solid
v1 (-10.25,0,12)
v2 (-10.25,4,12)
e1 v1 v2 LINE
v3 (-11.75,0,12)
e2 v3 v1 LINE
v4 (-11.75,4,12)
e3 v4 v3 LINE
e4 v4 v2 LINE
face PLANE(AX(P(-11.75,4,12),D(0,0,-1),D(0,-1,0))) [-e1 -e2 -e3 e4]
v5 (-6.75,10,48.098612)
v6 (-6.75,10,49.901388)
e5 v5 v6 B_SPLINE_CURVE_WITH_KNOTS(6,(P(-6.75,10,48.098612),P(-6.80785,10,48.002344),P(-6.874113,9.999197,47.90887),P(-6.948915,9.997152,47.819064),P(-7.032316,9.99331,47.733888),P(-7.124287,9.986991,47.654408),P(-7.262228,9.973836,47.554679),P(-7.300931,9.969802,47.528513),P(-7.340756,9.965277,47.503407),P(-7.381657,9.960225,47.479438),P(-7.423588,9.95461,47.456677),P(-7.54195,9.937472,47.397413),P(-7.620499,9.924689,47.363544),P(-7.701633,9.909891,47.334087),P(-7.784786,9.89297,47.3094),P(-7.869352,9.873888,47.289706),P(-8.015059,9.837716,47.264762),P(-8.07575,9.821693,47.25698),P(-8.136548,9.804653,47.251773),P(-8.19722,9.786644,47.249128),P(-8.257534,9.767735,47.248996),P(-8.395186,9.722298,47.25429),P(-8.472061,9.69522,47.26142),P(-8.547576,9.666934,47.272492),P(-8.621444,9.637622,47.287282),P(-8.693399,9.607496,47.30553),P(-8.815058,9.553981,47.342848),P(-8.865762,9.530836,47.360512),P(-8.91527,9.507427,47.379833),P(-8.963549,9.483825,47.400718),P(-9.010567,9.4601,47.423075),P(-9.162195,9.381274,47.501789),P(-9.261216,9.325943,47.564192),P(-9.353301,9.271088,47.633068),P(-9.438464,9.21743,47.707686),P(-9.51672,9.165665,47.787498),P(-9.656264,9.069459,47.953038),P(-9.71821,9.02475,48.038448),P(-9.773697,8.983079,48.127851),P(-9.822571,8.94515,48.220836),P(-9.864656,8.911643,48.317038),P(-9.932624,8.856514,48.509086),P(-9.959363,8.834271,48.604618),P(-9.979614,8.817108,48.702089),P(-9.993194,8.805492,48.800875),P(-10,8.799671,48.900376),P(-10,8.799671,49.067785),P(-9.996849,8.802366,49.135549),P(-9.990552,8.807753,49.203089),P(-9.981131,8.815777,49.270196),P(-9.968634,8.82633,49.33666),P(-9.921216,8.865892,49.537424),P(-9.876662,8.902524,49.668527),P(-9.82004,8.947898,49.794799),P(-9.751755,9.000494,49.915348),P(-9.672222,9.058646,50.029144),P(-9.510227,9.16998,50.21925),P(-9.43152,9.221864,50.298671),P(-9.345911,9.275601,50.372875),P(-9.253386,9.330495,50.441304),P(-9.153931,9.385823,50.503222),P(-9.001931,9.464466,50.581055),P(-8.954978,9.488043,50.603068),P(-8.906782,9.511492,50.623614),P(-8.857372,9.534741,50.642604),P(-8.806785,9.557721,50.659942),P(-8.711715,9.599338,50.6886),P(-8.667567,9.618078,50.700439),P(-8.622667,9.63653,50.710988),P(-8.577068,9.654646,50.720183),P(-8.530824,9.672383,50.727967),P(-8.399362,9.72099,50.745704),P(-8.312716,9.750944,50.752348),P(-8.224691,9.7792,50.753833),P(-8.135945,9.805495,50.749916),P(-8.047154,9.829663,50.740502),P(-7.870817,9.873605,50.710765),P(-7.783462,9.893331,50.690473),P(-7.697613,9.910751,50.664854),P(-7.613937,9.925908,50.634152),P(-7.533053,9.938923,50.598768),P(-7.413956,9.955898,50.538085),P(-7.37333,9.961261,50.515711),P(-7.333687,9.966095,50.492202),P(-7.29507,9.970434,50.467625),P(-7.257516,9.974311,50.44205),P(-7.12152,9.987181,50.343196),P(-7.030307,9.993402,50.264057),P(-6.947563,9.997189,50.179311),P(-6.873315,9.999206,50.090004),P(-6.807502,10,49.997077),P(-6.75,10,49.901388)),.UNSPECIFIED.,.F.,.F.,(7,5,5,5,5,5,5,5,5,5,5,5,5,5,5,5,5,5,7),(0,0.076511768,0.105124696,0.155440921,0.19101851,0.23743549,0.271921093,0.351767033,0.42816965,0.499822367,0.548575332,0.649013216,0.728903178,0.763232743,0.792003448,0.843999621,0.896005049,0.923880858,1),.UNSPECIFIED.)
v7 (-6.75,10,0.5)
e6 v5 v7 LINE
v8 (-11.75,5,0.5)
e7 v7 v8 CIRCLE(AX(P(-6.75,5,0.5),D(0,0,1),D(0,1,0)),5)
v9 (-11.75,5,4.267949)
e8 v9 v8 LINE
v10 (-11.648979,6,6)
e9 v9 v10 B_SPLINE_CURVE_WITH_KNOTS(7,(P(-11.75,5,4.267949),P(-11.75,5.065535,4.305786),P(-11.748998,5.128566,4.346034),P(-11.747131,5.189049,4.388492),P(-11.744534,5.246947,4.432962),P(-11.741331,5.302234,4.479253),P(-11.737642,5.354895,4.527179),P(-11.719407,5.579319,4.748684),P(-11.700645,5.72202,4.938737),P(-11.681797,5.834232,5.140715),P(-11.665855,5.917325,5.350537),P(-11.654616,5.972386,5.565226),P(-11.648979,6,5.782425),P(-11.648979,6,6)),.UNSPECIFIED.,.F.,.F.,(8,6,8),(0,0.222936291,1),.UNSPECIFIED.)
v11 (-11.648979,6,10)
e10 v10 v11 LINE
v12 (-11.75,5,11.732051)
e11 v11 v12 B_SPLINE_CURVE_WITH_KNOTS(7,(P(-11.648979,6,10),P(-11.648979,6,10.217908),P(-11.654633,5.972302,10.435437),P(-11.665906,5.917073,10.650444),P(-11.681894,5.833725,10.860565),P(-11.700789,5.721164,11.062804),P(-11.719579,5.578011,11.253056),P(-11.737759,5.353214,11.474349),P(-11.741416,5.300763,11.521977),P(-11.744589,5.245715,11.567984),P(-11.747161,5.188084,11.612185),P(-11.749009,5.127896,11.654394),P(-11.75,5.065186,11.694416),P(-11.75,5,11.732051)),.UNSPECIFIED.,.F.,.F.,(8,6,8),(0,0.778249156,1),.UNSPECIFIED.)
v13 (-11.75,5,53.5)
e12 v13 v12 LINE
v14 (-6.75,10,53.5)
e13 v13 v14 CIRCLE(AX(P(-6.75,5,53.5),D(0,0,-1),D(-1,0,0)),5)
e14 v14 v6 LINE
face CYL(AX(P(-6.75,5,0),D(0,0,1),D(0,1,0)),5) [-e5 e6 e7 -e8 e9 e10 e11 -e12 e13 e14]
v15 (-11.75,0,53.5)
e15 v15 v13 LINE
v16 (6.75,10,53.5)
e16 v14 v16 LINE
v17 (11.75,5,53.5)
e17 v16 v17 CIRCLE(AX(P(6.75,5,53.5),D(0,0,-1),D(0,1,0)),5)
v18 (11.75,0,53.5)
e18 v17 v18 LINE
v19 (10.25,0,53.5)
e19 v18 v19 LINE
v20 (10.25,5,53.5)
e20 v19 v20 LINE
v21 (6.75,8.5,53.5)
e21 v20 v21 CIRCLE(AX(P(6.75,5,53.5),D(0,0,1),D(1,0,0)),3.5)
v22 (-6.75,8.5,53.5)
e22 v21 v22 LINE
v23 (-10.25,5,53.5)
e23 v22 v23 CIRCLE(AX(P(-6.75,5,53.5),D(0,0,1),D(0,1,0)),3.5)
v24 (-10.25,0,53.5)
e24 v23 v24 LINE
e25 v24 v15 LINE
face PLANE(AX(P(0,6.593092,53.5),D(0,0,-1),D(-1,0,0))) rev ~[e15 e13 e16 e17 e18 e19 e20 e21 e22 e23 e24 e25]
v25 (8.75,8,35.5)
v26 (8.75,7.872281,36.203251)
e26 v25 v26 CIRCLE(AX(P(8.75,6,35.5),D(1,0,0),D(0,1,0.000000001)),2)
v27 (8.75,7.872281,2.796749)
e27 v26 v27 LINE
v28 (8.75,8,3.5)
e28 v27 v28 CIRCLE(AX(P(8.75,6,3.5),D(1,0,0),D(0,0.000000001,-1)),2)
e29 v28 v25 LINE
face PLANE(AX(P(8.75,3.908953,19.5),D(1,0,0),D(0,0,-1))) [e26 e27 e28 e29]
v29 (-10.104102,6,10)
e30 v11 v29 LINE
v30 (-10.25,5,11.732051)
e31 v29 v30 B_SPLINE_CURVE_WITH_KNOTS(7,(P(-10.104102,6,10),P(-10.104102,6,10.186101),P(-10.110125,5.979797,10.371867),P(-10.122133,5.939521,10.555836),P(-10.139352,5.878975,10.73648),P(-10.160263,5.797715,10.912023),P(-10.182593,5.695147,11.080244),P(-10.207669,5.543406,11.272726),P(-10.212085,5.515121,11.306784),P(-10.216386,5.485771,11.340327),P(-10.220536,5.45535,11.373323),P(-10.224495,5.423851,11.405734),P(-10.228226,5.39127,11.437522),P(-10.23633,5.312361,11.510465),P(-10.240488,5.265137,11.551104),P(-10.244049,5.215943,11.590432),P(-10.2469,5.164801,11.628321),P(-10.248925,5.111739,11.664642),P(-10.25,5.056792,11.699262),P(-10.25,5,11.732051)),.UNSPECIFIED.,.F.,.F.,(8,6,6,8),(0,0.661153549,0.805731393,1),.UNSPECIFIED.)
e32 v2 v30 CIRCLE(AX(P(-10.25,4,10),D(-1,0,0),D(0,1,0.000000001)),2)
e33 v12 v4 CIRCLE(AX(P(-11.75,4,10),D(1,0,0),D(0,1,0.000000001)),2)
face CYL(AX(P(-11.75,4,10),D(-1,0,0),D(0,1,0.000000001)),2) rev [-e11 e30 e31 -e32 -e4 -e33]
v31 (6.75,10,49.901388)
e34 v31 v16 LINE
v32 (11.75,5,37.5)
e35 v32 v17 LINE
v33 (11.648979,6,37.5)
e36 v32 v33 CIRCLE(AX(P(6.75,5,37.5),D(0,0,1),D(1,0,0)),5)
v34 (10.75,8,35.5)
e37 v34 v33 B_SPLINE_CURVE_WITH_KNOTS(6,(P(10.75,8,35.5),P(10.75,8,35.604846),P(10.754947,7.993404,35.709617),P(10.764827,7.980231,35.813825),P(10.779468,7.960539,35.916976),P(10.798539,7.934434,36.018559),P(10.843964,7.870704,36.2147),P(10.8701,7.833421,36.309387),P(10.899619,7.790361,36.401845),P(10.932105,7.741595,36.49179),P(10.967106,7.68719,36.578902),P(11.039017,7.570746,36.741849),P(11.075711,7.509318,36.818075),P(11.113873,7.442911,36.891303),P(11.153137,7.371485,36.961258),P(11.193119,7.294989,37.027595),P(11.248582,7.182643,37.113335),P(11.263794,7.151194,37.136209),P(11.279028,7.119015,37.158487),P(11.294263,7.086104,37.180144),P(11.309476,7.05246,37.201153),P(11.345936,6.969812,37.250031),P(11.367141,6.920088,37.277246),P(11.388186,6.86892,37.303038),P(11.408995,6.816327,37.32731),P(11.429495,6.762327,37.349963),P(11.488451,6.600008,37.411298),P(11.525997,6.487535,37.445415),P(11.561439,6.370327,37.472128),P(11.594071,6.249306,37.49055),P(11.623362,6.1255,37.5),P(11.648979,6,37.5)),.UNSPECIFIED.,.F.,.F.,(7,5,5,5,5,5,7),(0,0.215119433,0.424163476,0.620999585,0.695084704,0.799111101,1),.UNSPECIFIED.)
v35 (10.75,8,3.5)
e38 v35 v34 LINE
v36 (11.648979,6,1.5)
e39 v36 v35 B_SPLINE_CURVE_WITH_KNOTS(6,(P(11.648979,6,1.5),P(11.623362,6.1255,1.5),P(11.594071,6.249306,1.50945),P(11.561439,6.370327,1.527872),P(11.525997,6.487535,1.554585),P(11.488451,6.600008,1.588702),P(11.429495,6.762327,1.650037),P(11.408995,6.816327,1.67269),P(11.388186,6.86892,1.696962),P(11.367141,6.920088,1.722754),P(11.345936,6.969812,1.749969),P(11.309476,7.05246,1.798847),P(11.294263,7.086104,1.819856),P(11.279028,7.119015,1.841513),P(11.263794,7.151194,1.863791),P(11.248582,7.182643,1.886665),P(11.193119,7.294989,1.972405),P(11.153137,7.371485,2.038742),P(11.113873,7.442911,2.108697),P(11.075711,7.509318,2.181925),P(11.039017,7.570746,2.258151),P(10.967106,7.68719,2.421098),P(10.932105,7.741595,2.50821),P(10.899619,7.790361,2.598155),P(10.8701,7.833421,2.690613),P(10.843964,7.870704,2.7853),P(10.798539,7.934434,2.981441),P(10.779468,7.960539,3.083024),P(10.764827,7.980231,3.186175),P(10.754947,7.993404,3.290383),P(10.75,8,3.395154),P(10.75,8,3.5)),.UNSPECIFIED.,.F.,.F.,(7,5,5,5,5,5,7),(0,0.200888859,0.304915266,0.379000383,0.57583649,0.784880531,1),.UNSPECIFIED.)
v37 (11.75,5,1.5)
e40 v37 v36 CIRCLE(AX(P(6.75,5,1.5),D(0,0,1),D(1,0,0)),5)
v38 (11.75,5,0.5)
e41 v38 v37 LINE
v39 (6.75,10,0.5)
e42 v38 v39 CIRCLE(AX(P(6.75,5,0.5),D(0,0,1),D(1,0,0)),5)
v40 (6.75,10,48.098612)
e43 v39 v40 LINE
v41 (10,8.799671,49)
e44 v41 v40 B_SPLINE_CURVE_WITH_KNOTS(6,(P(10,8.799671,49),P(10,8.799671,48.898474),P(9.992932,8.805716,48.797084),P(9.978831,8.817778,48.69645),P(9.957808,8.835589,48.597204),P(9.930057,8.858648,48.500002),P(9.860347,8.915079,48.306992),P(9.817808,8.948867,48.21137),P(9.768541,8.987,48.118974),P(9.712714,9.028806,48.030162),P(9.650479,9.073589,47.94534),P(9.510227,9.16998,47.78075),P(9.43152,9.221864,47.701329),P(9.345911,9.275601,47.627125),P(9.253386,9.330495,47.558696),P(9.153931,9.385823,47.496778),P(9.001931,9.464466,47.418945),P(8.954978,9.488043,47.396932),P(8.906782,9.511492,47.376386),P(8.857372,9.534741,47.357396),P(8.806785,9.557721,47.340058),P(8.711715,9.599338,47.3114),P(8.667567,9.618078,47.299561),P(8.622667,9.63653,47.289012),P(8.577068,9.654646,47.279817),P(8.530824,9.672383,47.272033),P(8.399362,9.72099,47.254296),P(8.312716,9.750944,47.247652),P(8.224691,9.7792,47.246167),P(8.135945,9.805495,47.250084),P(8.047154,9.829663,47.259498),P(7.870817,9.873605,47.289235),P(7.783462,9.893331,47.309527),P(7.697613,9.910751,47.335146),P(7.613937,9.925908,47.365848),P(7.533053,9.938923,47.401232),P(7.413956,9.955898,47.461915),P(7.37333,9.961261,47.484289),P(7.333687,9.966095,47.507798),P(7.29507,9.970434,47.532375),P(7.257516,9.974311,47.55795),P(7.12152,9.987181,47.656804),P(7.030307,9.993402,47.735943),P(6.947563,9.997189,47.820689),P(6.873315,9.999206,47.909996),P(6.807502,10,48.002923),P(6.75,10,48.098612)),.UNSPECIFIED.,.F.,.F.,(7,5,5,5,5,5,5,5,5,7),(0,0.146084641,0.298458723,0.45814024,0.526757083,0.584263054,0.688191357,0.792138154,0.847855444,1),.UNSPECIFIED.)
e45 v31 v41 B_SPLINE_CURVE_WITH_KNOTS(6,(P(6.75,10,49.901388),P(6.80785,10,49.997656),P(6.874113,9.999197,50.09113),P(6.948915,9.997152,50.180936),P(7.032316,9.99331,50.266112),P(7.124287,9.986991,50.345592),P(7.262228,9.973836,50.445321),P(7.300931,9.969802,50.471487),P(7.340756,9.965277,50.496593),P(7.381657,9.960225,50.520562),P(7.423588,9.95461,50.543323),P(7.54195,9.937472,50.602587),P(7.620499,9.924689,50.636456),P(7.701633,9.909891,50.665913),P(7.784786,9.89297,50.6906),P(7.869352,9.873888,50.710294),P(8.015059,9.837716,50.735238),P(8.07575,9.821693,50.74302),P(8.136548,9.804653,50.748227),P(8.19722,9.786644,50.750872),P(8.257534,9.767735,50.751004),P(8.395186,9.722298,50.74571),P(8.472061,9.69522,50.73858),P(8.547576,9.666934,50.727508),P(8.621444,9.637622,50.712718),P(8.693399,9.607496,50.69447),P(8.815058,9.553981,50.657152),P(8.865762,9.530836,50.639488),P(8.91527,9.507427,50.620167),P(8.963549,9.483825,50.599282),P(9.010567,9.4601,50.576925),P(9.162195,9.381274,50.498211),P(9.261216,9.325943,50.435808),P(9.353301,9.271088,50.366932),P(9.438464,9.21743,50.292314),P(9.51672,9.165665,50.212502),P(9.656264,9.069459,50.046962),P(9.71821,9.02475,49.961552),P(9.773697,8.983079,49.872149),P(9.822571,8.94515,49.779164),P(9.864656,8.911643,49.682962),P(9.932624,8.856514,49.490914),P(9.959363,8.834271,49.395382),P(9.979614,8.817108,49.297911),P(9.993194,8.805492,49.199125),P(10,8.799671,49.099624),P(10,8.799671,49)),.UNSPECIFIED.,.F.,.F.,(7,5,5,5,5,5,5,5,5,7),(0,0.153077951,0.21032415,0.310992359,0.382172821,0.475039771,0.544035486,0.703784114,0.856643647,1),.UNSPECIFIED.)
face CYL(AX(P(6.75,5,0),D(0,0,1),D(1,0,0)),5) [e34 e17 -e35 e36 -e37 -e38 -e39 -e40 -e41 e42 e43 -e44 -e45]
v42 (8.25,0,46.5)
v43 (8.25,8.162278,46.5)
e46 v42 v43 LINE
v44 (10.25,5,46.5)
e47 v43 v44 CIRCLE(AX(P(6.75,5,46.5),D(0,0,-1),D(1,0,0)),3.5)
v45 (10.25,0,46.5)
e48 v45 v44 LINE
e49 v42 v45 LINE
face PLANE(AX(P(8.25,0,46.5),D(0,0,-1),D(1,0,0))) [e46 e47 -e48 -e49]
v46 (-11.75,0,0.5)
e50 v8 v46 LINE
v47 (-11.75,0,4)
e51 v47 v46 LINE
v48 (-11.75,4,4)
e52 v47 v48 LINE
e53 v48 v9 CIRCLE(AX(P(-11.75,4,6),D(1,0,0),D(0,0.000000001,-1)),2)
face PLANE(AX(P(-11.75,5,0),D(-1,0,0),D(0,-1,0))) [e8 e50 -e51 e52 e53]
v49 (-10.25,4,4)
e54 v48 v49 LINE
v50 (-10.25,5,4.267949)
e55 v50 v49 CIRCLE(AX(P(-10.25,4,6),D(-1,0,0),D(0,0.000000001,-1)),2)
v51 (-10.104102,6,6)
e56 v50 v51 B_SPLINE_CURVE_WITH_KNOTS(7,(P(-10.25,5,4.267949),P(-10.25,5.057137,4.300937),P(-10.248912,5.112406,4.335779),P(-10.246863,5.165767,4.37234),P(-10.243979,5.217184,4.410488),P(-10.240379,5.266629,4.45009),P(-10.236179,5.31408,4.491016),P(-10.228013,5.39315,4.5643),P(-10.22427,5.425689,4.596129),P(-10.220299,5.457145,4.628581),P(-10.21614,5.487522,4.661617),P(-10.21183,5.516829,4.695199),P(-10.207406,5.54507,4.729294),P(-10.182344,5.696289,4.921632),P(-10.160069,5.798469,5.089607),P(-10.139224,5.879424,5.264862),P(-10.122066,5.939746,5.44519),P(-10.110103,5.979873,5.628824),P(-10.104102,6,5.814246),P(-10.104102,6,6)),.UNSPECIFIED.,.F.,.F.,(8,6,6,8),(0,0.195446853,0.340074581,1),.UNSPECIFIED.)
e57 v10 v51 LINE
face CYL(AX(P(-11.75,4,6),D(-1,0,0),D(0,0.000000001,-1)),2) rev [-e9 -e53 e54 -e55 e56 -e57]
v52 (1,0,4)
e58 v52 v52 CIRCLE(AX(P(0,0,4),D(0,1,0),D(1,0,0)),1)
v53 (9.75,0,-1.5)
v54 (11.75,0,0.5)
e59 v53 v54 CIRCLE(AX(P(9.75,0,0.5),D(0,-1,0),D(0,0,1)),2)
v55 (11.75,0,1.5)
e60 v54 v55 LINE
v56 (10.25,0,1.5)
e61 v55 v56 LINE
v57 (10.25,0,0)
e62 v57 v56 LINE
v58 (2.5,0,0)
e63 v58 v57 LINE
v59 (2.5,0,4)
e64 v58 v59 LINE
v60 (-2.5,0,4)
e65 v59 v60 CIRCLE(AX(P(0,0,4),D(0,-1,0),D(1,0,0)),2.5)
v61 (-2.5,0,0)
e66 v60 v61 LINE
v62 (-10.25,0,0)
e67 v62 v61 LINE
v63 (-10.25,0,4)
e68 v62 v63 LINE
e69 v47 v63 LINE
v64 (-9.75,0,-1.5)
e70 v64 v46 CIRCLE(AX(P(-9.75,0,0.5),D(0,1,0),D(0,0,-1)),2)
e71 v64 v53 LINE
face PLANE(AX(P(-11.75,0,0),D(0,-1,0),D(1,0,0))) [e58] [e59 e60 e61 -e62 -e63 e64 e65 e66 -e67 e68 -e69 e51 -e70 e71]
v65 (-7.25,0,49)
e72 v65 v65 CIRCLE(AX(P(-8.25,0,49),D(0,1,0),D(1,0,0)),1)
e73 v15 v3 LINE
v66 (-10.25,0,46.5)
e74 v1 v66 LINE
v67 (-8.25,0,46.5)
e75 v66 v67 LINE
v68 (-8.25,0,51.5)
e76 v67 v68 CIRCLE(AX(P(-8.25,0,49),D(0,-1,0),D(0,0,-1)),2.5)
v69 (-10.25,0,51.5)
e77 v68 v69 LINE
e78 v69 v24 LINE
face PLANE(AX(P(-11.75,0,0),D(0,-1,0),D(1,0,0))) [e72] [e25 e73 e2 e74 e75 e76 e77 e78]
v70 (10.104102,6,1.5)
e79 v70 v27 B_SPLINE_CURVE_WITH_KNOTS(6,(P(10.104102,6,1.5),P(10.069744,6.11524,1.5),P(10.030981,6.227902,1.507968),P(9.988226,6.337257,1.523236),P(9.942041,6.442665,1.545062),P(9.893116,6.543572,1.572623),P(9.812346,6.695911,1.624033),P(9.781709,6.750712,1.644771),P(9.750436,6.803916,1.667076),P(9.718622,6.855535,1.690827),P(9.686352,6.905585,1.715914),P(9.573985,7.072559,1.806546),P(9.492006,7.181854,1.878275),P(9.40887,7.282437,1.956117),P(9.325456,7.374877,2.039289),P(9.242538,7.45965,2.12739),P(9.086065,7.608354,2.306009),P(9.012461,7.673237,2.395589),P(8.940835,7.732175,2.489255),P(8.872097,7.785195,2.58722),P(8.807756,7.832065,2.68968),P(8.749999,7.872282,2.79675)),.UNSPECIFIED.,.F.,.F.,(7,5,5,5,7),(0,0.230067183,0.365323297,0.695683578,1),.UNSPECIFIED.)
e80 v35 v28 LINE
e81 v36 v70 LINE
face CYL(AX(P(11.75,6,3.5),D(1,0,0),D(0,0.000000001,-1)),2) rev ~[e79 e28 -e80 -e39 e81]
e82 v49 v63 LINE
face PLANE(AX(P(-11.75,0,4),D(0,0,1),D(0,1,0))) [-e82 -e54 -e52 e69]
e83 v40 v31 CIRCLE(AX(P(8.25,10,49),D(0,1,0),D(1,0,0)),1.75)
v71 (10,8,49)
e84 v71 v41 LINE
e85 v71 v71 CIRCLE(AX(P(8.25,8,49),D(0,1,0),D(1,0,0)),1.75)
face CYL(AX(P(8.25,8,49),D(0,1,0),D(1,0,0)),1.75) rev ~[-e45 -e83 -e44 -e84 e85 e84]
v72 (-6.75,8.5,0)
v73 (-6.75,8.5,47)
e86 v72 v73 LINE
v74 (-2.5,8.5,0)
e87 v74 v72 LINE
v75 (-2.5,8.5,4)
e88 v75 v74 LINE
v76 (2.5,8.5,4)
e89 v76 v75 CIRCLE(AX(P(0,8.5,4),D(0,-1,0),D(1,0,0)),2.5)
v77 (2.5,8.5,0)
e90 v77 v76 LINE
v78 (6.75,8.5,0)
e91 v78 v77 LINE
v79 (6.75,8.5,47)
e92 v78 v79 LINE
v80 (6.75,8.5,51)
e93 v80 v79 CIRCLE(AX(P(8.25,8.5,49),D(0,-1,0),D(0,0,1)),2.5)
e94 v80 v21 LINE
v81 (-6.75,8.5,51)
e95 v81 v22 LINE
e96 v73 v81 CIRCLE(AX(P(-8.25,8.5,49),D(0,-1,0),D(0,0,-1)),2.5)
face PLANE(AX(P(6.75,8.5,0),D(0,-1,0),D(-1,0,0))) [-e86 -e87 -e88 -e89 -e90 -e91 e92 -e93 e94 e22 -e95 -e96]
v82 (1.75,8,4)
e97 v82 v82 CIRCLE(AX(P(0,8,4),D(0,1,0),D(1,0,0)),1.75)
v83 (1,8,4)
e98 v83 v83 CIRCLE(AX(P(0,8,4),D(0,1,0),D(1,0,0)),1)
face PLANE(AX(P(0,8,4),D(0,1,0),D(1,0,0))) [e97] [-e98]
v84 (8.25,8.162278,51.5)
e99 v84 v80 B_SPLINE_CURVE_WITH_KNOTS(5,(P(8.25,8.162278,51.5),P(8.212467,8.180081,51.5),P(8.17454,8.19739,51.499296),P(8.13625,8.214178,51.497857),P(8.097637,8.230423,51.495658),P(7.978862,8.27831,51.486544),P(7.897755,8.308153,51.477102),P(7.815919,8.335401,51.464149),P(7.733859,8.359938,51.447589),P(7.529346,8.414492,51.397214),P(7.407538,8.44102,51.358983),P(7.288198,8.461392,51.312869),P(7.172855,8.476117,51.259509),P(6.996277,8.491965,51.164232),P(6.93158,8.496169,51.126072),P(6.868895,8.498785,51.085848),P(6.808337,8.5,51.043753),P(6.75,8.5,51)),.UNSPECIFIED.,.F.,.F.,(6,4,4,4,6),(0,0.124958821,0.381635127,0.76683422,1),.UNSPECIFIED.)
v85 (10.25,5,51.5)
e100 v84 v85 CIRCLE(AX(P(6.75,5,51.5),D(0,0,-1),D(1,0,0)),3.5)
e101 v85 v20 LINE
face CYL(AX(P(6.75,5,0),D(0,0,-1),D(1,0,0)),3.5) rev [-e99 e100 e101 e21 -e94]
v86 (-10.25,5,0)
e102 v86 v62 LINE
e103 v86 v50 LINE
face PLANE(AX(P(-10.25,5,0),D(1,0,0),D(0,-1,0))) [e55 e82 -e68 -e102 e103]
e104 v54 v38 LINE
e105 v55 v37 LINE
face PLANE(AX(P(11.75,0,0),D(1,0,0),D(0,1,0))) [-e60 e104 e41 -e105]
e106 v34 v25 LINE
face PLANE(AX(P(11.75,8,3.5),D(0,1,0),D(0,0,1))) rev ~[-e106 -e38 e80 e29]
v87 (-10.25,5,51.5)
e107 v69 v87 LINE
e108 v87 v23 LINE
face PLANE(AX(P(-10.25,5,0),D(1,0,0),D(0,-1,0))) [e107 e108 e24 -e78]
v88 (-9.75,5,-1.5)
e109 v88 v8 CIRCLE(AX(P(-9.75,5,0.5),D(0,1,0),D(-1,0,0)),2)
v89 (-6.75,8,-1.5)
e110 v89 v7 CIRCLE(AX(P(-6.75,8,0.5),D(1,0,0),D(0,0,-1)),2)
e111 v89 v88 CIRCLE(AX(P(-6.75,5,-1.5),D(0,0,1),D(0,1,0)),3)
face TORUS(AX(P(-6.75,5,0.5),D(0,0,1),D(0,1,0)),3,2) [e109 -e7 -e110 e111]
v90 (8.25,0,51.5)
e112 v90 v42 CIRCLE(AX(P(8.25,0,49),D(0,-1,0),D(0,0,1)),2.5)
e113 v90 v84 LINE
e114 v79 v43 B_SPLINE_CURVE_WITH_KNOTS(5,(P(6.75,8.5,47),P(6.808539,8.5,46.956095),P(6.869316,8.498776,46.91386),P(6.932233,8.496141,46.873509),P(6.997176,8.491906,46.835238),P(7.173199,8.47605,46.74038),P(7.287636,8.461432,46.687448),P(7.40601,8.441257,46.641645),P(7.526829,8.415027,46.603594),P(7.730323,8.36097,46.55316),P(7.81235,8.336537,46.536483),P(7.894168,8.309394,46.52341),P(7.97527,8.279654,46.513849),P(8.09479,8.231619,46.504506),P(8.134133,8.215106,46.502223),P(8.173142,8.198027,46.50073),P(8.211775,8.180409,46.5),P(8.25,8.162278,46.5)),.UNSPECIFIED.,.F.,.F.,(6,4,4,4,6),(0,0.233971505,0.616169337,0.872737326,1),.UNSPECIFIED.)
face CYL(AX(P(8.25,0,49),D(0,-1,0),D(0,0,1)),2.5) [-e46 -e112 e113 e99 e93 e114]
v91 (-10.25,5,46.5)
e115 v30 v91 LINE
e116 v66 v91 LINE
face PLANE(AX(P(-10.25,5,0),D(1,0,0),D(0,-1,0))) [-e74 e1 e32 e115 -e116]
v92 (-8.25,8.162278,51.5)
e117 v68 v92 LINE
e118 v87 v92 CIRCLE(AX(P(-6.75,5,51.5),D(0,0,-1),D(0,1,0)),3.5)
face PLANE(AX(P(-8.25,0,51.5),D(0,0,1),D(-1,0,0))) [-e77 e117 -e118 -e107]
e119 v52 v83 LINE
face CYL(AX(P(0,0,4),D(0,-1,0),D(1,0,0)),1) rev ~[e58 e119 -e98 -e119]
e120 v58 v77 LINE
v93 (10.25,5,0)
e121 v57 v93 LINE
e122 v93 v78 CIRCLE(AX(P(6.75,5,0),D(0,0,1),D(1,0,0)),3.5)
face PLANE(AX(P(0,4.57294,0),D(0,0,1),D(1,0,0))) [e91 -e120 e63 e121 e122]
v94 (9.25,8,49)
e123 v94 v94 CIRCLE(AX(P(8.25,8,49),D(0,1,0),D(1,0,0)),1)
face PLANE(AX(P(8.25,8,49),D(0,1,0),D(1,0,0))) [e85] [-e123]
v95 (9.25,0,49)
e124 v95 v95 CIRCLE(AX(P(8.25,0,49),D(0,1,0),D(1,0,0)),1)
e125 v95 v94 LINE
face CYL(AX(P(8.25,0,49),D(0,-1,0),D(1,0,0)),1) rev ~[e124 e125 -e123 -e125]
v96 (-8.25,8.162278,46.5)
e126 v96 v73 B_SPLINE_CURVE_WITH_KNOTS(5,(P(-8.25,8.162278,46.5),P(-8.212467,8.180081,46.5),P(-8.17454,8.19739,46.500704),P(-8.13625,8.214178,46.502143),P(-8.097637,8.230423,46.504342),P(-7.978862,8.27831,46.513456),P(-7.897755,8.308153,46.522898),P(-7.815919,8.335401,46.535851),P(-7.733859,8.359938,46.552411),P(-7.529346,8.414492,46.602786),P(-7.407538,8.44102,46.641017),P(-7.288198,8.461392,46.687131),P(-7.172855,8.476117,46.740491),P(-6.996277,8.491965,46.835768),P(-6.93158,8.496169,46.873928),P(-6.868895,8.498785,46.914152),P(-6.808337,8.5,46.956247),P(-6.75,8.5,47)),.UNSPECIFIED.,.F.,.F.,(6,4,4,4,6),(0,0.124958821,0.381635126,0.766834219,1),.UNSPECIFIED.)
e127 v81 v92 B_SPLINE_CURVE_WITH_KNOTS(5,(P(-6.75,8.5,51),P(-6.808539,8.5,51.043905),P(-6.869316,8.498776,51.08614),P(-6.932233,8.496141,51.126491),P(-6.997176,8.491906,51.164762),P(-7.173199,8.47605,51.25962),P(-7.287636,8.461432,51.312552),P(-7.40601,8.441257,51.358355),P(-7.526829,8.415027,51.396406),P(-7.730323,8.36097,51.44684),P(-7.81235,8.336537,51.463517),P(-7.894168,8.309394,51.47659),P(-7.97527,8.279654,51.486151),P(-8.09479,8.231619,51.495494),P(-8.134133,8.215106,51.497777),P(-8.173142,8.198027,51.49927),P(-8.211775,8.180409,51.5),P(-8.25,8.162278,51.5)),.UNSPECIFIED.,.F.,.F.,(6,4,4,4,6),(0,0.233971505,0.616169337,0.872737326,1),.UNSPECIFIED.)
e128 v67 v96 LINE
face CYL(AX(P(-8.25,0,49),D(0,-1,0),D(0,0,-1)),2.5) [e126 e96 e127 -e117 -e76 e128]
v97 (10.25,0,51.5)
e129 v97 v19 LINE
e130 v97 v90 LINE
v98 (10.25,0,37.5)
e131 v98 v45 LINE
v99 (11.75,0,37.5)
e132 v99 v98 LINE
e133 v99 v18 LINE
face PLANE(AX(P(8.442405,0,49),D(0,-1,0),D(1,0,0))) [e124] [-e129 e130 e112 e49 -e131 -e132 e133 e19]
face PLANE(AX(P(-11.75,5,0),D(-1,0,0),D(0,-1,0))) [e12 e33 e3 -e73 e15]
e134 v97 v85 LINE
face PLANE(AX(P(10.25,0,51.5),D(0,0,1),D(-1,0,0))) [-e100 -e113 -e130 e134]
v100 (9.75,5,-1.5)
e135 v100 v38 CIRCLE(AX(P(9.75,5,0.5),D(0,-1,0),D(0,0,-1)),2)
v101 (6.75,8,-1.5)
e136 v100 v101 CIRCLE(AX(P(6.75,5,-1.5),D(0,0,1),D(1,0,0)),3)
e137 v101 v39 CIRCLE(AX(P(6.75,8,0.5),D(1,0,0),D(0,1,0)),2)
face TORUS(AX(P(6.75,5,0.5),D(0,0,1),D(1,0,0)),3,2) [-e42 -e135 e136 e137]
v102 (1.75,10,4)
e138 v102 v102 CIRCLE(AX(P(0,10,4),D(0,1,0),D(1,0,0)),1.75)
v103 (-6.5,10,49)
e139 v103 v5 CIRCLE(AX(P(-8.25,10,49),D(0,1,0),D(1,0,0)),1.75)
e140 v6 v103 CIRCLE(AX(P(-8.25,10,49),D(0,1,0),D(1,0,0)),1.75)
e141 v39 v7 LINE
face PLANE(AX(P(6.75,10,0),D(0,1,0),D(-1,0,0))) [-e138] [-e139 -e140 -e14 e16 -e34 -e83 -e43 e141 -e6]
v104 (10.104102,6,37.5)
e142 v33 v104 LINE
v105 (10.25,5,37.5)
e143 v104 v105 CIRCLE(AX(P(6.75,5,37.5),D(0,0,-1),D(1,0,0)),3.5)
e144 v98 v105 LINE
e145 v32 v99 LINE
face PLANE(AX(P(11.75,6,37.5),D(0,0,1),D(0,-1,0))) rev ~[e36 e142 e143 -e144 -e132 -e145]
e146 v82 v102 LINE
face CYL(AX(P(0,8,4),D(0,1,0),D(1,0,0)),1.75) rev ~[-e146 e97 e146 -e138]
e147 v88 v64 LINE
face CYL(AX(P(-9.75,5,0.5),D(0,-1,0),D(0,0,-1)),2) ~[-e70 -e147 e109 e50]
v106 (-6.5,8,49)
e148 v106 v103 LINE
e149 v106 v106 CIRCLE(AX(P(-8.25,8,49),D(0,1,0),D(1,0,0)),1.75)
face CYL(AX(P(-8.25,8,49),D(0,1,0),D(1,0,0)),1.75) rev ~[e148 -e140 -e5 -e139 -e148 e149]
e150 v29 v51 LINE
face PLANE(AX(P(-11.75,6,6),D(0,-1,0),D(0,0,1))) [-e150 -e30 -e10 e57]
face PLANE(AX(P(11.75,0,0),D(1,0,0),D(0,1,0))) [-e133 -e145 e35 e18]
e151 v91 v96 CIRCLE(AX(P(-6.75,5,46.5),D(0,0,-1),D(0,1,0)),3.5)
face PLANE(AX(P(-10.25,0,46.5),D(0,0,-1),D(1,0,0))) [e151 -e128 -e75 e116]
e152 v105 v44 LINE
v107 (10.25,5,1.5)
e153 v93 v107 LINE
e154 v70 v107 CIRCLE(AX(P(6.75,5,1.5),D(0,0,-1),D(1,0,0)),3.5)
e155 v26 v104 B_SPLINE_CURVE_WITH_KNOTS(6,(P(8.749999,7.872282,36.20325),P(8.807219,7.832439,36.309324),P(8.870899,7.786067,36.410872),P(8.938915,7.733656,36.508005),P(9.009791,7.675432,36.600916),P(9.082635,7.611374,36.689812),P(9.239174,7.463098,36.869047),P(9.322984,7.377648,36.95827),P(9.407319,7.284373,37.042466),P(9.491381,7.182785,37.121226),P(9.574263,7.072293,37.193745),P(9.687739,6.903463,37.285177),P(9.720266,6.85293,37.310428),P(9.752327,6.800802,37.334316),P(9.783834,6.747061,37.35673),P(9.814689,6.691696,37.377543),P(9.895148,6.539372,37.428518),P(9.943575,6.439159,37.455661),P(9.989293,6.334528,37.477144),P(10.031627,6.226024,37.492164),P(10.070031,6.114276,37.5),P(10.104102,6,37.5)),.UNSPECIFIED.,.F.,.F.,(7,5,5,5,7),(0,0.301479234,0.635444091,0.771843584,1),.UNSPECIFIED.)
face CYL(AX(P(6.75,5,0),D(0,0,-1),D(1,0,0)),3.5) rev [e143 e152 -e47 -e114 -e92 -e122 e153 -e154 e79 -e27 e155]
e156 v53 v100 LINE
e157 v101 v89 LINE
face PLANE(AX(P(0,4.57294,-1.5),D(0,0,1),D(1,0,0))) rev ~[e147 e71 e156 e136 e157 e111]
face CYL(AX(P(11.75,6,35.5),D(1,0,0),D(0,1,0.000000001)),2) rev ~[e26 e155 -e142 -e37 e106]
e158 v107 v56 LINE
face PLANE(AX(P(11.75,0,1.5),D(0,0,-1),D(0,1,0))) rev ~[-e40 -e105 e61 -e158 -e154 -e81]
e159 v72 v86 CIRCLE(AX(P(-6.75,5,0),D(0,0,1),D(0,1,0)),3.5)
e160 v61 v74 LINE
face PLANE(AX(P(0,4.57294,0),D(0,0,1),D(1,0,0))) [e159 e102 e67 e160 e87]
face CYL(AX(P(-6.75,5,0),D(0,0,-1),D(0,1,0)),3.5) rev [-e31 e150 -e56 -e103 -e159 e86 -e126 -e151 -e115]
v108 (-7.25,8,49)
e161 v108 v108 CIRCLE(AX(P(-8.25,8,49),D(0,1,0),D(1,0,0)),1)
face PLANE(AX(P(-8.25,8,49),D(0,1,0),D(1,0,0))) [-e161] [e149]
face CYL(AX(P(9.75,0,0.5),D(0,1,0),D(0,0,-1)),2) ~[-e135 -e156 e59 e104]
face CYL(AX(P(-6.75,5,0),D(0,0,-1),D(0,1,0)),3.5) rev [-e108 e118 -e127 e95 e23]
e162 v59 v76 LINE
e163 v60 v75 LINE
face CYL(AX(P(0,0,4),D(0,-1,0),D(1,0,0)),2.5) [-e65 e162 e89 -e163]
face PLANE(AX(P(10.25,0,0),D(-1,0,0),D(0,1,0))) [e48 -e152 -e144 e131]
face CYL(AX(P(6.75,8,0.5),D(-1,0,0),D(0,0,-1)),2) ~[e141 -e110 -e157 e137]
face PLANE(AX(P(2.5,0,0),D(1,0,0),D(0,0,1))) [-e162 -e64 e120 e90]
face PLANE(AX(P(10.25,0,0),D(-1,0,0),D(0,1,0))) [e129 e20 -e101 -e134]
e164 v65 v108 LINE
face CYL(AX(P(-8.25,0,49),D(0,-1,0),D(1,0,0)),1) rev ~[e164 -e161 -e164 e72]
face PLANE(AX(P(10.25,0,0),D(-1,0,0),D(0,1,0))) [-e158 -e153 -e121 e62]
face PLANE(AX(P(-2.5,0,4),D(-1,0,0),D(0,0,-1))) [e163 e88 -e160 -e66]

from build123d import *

# Parameters (mm, degrees)
BOSS_EXTRUDE1_DEPTH = 53.5
BOSS_EXTRUDE2_DEPTH = 1.5
CUT_EXTRUDE1_DEPTH  = 3
BOSS_EXTRUDE3_DEPTH = 8.5
SKETCH5_R           = 1
CUT_EXTRUDE2_DEPTH  = 10
HOLE1_D             = 2
HOLE1_CBORE_D       = 3.5
HOLE1_CBORE_DEPTH   = 2
CUT_EXTRUDE4_DEPTH  = 3
FILLET1_R           = 2


with BuildPart() as part:
    # Sketch1 → Boss-Extrude1 (new body)
    with BuildSketch(Plane.XY):
        with BuildLine():
            Line((10.25, 0), (10.25, 5))
            ThreePointArc((10.25, 5), (9.224873734, 7.474873734), (6.75, 8.5))
            Line((6.75, 8.5), (-6.75, 8.5))
            ThreePointArc((-6.75, 8.5), (-9.224873734, 7.474873734), (-10.25, 5))
            Line((-10.25, 5), (-10.25, 0))
            Line((-10.25, 0), (-11.75, 0))
            Line((-11.75, 0), (-11.75, 5))
            ThreePointArc((-11.75, 5), (-10.285533906, 8.535533906), (-6.75, 10))
            Line((-6.75, 10), (6.75, 10))
            ThreePointArc((6.75, 10), (10.285533906, 8.535533906), (11.75, 5))
            Line((11.75, 5), (11.75, 0))
            Line((11.75, 0), (10.25, 0))
        make_face()
    extrude(amount=BOSS_EXTRUDE1_DEPTH)

    # Sketch2 → Boss-Extrude2 (add)
    with BuildSketch(Plane.XY):
        with BuildLine():
            Line((-11.75, 0), (11.75, 0))
            Line((11.75, 0), (11.75, 5))
            ThreePointArc((11.75, 5), (10.285533906, 8.535533906), (6.75, 10))
            Line((6.75, 10), (-6.75, 10))
            ThreePointArc((-6.75, 10), (-10.285533906, 8.535533906), (-11.75, 5))
            Line((-11.75, 5), (-11.75, 0))
        make_face()
    extrude(amount=-BOSS_EXTRUDE2_DEPTH)

    # Sketch3 → Cut-Extrude1 (cut)
    with BuildSketch(Plane(origin=(11.75, 0, 0), x_dir=(0, 0, -1), z_dir=(1, 0, 0))):
        with BuildLine():
            Line((-8, 0), (-1.5, 0))
            Line((-1.5, 0), (-1.5, 6))
            ThreePointArc((-1.5, 6), (-2.085786438, 7.414213562), (-3.5, 8))
            Line((-3.5, 8), (-35.5, 8))
            ThreePointArc((-35.5, 8), (-36.914213562, 7.414213562), (-37.5, 6))
            Line((-37.5, 6), (-37.5, 0))
            Line((-37.5, 0), (-8, 0))
        make_face()
    extrude(amount=-CUT_EXTRUDE1_DEPTH, mode=Mode.SUBTRACT)

    # Sketch4 → Boss-Extrude3 (add)
    with BuildSketch(Plane.XZ):
        with BuildLine():
            Line((2.5, 0), (2.5, 4))
            ThreePointArc((2.5, 4), (0, 6.5), (-2.5, 4))
            Line((-2.5, 4), (-2.5, 0))
            Line((-2.5, 0), (2.5, 0))
        make_face()
        with BuildLine():
            Line((10.25, 51.5), (8.25, 51.5))
            ThreePointArc((8.25, 51.5), (5.75, 49), (8.25, 46.5))
            Line((8.25, 46.5), (10.25, 46.5))
            Line((10.25, 46.5), (10.25, 51.5))
        make_face()
        with BuildLine():
            Line((-10.25, 51.5), (-10.25, 46.5))
            Line((-10.25, 46.5), (-8.25, 46.5))
            ThreePointArc((-8.25, 46.5), (-5.75, 49), (-8.25, 51.5))
            Line((-8.25, 51.5), (-10.25, 51.5))
        make_face()
    extrude(amount=-BOSS_EXTRUDE3_DEPTH)

    # Sketch5 → Cut-Extrude2 (cut)
    with BuildSketch(Plane.XZ):
        with Locations((0, 4)):
            Circle(SKETCH5_R)
        with Locations((8.25, 49)):
            Circle(SKETCH5_R)
        with Locations((-8.25, 49)):
            Circle(SKETCH5_R)
    extrude(amount=-CUT_EXTRUDE2_DEPTH, mode=Mode.SUBTRACT)

    # Hole1 (through all)
    with Locations(Plane(origin=(0, 10, 0), x_dir=(1, 0, 0), z_dir=(0, 1, 0))):
        with Locations((0, -4), (-8.25, -49), (8.25, -49)):
            CounterBoreHole(HOLE1_D / 2, HOLE1_CBORE_D / 2, HOLE1_CBORE_DEPTH)

    # Sketch10 → Cut-Extrude4 (cut)
    with BuildSketch(Plane.ZY.offset(11.75)):
        with BuildLine():
            Line((4, 0), (4, 4))
            ThreePointArc((4, 4), (4.585786438, 5.414213562), (6, 6))
            Line((6, 6), (10, 6))
            ThreePointArc((10, 6), (11.414213562, 5.414213562), (12, 4))
            Line((12, 4), (12, 0))
            Line((12, 0), (4, 0))
        make_face()
    extrude(amount=-CUT_EXTRUDE4_DEPTH, mode=Mode.SUBTRACT)

    # Fillet1
    fillet1_edges = [part.edges().sort_by_distance(p)[0] for p in [
        (-11.75, 2.5, -1.5),
        (-10.285533906, 8.535533906, -1.5),
        (0, 10, -1.5),
        (10.285533906, 8.535533906, -1.5),
        (11.75, 2.5, -1.5),
    ]]
    fillet(fillet1_edges, radius=FILLET1_R)


solid = part.part
